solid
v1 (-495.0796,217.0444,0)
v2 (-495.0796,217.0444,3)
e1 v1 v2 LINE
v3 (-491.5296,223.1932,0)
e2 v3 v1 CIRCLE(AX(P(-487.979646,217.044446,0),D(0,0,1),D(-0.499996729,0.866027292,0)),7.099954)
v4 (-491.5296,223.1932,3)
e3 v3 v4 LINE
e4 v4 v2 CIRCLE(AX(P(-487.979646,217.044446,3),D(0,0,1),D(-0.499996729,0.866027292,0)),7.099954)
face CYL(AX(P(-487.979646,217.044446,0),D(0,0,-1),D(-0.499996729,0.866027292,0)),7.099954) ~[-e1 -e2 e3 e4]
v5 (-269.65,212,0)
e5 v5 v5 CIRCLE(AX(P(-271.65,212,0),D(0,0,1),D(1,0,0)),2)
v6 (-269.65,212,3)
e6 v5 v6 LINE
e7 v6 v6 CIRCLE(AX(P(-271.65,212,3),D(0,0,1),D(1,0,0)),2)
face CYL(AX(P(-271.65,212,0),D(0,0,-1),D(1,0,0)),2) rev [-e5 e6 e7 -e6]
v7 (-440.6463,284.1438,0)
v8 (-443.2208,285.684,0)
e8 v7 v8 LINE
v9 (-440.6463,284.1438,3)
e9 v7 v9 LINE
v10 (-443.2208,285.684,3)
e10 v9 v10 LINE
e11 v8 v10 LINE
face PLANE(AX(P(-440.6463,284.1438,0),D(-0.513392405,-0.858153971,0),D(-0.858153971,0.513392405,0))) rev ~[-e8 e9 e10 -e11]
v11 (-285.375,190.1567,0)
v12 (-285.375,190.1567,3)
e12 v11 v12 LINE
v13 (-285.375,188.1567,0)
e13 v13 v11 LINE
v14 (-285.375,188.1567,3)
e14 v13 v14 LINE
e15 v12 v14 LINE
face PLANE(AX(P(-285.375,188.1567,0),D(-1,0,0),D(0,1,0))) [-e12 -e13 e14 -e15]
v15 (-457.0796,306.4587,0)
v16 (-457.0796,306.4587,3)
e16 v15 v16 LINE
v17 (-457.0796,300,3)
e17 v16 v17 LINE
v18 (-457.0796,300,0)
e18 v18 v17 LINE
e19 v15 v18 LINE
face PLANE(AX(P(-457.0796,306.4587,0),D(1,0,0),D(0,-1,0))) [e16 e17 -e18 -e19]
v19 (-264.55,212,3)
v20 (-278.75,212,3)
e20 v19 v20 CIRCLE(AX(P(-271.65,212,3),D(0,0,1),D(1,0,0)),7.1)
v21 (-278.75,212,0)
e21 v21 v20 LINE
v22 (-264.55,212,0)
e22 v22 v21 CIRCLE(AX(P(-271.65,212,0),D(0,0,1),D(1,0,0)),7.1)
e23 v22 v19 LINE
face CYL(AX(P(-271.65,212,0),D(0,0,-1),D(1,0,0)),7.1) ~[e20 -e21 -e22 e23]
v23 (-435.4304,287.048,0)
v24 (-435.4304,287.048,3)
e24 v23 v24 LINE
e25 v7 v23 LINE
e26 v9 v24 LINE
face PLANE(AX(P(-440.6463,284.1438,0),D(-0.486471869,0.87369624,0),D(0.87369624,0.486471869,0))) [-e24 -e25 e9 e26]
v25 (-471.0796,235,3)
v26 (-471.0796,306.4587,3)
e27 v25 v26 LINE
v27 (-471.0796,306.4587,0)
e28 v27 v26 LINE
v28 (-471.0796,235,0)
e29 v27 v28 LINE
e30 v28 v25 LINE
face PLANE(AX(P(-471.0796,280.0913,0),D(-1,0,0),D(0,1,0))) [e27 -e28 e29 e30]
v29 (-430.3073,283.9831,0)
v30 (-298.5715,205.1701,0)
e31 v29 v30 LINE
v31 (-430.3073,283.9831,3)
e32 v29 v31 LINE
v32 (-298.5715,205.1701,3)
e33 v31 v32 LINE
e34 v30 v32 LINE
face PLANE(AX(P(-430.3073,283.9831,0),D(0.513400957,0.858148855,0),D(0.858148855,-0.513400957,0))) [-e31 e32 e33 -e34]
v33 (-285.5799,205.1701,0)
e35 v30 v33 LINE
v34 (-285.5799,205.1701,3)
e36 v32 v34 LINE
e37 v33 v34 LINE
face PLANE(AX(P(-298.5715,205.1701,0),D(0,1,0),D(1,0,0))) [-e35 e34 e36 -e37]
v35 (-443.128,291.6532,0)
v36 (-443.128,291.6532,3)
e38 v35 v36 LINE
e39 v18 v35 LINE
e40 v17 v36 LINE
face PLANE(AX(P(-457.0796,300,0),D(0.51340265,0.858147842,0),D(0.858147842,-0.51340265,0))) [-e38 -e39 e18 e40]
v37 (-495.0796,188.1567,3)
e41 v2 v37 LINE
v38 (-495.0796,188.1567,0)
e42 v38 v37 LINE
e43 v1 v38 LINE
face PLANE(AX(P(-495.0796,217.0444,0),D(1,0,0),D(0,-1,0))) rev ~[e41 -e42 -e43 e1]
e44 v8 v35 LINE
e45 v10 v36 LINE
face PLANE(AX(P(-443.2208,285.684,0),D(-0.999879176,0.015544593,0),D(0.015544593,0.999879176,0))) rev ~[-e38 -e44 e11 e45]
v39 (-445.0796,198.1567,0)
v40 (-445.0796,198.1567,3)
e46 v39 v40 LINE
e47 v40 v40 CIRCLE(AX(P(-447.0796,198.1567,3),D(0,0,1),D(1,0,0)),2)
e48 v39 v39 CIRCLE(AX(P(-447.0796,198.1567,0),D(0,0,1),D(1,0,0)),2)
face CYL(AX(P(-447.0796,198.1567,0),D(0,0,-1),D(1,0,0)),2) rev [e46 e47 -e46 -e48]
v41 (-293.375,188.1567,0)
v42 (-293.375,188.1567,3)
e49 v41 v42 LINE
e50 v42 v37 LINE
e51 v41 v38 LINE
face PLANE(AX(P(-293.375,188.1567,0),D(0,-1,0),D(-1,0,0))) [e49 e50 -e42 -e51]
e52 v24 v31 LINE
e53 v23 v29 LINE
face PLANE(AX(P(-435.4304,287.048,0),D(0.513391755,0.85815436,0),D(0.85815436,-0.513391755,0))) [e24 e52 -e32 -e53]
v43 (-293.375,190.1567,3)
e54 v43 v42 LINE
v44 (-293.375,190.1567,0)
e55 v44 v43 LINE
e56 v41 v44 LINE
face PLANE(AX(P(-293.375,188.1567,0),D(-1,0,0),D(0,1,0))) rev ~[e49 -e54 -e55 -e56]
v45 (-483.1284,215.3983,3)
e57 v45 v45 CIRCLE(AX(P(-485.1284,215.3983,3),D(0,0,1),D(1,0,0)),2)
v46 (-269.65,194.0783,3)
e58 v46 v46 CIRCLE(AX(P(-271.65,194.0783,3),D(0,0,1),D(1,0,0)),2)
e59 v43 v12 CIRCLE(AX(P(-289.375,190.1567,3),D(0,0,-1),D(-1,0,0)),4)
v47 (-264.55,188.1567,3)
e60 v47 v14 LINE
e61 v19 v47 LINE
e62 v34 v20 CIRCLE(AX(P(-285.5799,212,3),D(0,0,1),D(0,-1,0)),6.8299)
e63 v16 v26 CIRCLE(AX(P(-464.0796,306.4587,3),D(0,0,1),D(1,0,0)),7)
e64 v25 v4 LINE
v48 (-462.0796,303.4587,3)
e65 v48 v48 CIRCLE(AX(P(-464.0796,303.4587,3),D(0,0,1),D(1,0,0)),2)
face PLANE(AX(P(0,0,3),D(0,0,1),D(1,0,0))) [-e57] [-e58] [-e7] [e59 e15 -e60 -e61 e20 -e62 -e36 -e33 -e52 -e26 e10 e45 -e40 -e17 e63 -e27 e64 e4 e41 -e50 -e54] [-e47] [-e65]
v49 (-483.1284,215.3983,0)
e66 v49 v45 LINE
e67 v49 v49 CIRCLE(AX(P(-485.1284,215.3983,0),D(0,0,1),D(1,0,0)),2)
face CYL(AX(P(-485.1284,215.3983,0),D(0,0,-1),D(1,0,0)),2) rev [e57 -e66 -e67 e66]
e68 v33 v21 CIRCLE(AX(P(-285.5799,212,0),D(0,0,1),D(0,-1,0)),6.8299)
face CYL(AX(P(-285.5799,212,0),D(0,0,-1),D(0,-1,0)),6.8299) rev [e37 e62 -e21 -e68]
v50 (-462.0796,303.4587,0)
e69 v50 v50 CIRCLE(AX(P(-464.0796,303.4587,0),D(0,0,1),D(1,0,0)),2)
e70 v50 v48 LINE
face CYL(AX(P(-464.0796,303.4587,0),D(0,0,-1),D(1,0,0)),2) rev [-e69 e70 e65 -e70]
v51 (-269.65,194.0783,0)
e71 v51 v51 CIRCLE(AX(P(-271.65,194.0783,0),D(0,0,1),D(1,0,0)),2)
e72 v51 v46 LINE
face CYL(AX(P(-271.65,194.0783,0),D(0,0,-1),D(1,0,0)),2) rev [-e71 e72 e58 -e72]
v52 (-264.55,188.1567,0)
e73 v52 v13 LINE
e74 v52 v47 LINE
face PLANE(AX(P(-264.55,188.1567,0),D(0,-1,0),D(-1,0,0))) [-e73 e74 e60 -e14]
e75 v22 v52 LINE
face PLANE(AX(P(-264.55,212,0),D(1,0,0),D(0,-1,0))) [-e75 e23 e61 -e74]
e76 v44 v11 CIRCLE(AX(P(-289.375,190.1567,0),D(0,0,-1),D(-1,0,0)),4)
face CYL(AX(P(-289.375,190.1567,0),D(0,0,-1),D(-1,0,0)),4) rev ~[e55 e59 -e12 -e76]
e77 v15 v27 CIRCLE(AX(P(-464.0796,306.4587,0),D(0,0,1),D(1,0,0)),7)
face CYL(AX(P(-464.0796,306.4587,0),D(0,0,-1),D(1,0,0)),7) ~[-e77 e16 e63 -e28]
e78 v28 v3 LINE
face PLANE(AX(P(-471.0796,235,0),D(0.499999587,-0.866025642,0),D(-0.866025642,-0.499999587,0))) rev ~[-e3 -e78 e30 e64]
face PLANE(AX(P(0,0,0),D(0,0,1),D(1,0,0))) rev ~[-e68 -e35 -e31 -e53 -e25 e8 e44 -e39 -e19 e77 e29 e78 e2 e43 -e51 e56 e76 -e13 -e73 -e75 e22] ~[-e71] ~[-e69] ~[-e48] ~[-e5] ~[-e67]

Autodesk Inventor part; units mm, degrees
ref_plane "YZ Plane" through (0, 0, 0) normal (1, 0, 0) x (0, 1, 0)
ref_plane "XZ Plane" through (0, 0, 0) normal (0, 1, 0) x (-1, 0, 0)
ref_plane "XY Plane" through (0, 0, 0) normal (0, 0, 1) x (1, 0, 0)
sketch "Sketch3" plane through (0, 0, 0) normal (0, 0, 1) x (1, 0, 0)
  circle A0 centre (367.816, 50) radius 50 construction
  line L0 (367.816, 0) -> (512.7041, 0) construction
  line L1 (367.816, 50) -> (512.7041, 50) construction
  line L2 (367.816, 100) -> (512.7041, 100) construction
  line L3 (367.816, 50) -> (342.816, 6.6987) construction
  line L4 (367.816, 50) -> (324.5147, 25) construction
  line L5 (367.816, 50) -> (324.5147, 75) construction
  line L6 (342.816, 93.3013) -> (367.816, 50) construction
  line L7 (392.816, 93.3013) -> (367.816, 50) construction
  line L8 (411.1173, 75) -> (367.816, 50) construction
  line L9 (411.1173, 25) -> (367.816, 50) construction
  line L10 (392.816, 6.6987) -> (367.816, 50) construction
  line L11 (367.816, 0) -> (367.816, 100) construction
  line L12 (417.816, 50) -> (367.816, 50) construction
  line L13 (341.6361, 0) -> (341.6361, 100) construction
  line L14 (315.4561, 0) -> (315.4561, 100) construction
  line L15 (289.2762, 0) -> (289.2762, 100) construction
  line L16 (263.0963, 0) -> (263.0963, 100) construction
  line L17 (236.9163, 0) -> (236.9163, 100) construction
  line L18 (210.7364, 0) -> (210.7364, 100) construction
  line L19 (184.5564, 0) -> (184.5564, 100) construction
  line L20 (158.3765, 0) -> (158.3765, 100) construction
  circle A1 centre (315.4561, 50) radius 50 construction
  circle A2 centre (341.6361, 50) radius 50 construction
  circle A3 centre (289.2762, 50) radius 50 construction
  circle A4 centre (263.0963, 50) radius 50 construction
  circle A5 centre (236.9163, 50) radius 50 construction
  circle A6 centre (210.7364, 50) radius 50 construction
  line L21 (392.816, 6.6987) -> (512.7041, 6.6987) construction
  line L22 (411.1173, 25) -> (512.7041, 25) construction
  line L23 (411.1173, 75) -> (512.7041, 75) construction
  line L24 (411.1173, 75) -> (512.7041, 75) construction
  line L25 (392.816, 93.3013) -> (512.7041, 93.3013) construction
  line L26 (358.7574, 75) -> (339.2762, 50) construction
  line L27 (339.2762, 50) -> (306.3975, 25) construction
  line L28 (306.3975, 25) -> (261.9163, 6.6987) construction
  line L29 (261.9163, 6.6987) -> (210.7364, 0) construction
  line L30 (105.3682, -12.9392) -> (105.3682, 124.4333) construction
  line L31 (21.25, 0) -> (21.25, 12)
  line L32 (35.45, 12) -> (35.45, -11.8433)
  arc A7 (0, 0) -> (6.625, -9.8433) centre (10.625, 0) ccw
  arc A8 (14.625, -9.8433) -> (21.25, 0) centre (10.625, 0) ccw
  line L33 (35.45, -11.8433) -> (14.625, -11.8433)
  line L34 (6.625, -11.8433) -> (-195.0796, -11.8433)
  circle A9 centre (-144.26, 100.8473) radius 12.875 construction
  line L35 (6.625, -11.8433) -> (6.625, -9.8433)
  line L36 (14.625, -11.8433) -> (14.625, -9.8433)
  line L37 (411.1173, 75) -> (158.3765, 75) construction
  line L38 (367.816, 100) -> (158.3765, 100) construction
  line L39 (417.816, 50) -> (158.3765, 50) construction
  line L40 (411.1173, 25) -> (158.3765, 25) construction
  line L41 (392.816, 6.6987) -> (158.3765, 6.6987) construction
  line L42 (392.816, 93.3013) -> (158.3765, 93.3013) construction
  line L43 (358.7574, 75) -> (366.6361, 93.3013) construction
  line L44 (366.6361, 93.3013) -> (367.816, 100) construction
  spline S0 degree 4 poles (-157.0796, 100) (-157.0796, 88.9946) (-147.011, 72.6811) (-131.8577, 48.7932) (-88.4777, 17.6268) (-50.0176, 3.937) (-18.8717, 0) (0, 0) knots 0 0 0 0 0 0.264547 0.457223 0.66608 1 1 1 1 1
  line L45 (-157.0796, 100) -> (-157.0796, 38) construction
  line L46 (0, 0) -> (-157.0796, 0) construction
  line L47 (-144.26, 100.8473) -> (-157.135, 100.8473) construction
  circle A10 centre (-146.4546, 100) radius 10.625 construction
  line L48 (-146.4546, 100) -> (-157.0796, 100) construction
  line L49 (-141.0754, 84.4005) -> (-135.6205, 93.5183) construction
  line L50 (-141.0796, 132.0528) -> (-171.0796, 149.3733) construction
  line L51 (-171.0796, 149.3733) -> (-201.0796, 132.0528) construction
  line L52 (-141.0754, 84.4005) -> (-99.2801, 84.4005) construction
  line L53 (-201.0796, 132.0528) -> (-201.0796, 97.4118) construction
  line L54 (-201.0796, 97.4118) -> (-171.0796, 80.0913) construction
  line L55 (0, 0) -> (-157.0796, 93.9753) construction
  line L56 (-135.6205, 93.5183) -> (-137.3368, 94.5451) construction
  line L57 (-137.3368, 94.5451) -> (-143.2815, 84.6085) construction
  line L58 (-137.3368, 94.5451) -> (-171.0796, 114.7323) construction
  line L59 (-201.0796, 132.0528) -> (-171.0796, 114.7323) construction
  arc A11 (-137.3368, 94.5451) -> (-144.7045, 143.8948) centre (-171.0796, 114.7323) ccw construction
  arc A12 (-142.7917, 85.4273) -> (-147.1443, 147.6882) centre (-171.0796, 114.7323) ccw construction
  line L60 (-171.0796, 80.0913) -> (-171.0796, 35)
  circle A13 centre (-171.0796, 114.7323) radius 2.5 construction
  arc A14 (-167.4345, 120.8251) -> (-174.7248, 108.6394) centre (-171.0796, 114.7323) ccw construction
  line L61 (-167.4345, 120.8251) -> (-157.0796, 114.6302) construction
  line L62 (-171.0796, 80.0913) -> (-171.0796, 106.4587)
  line L63 (-171.0796, 106.4587) -> (-174.7248, 108.6394) construction
  line L64 (-171.0796, 35) -> (-191.5296, 23.1932)
  arc A15 (-191.5296, 23.1932) -> (-195.0796, 17.0444) centre (-187.9796, 17.0444) ccw
  line L65 (-195.0796, 17.0444) -> (-195.0796, -11.8433)
  arc A16 (35.45, 12) -> (21.25, 12) centre (28.35, 12) ccw
  line L66 (-157.0796, 114.6302) -> (-157.0796, 99.9865) construction
  circle A17 centre (-164.0796, 103.4587) radius 2
  line L67 (-171.0796, 103.4587) -> (-157.0796, 103.4587) construction
  circle A18 centre (-185.1284, 15.3983) radius 2
  line L68 (-185.1284, 15.3983) -> (-194.1284, 20.5944) construction
  circle A19 centre (-6, -5.9217) radius 2
  line L69 (-6, -11.8433) -> (-6, 0) construction
  circle A20 centre (28.35, 12) radius 2
  circle A21 centre (28.35, -5.9217) radius 2
  line L70 (-167.4345, 320.8251) -> (-157.0796, 314.6302) construction
  arc A22 (-167.4345, 320.8251) -> (-174.7248, 308.6394) centre (-171.0796, 314.7323) ccw construction
  circle A23 centre (-171.0796, 314.7323) radius 2.5 construction
  line L71 (-171.0796, 280.0913) -> (-171.0796, 306.4587)
  line L72 (-171.0796, 306.4587) -> (-174.7248, 308.6394) construction
  line L73 (-157.0796, 314.6302) -> (-157.0796, 299.9865) construction
  circle A24 centre (-164.0796, 303.4587) radius 2
  spline S1 degree 4 poles (-157.0796, 300) (-157.0796, 288.9946) (-147.0234, 272.6841) (-124.1789, 236.7977) (-70.8039, 208.0704) (-31.8865, 200.2943) (0, 200) knots 0 0 0 0 0 0.264547 0.457223 1 1 1 1 1 construction
  line L74 (-157.0796, 300) -> (-157.0796, 238) construction
  arc A25 (0, 200) -> (6.625, 190.1567) centre (10.625, 200) ccw
  line L75 (35.45, 212) -> (35.45, 188.1567)
  circle A26 centre (28.35, 212) radius 2
  circle A27 centre (28.35, 194.0783) radius 2
  arc A28 (35.45, 212) -> (21.25, 212) centre (28.35, 212) ccw
  line L76 (21.25, 200) -> (21.25, 212)
  line L77 (35.45, 188.1567) -> (14.625, 188.1567)
  arc A29 (14.625, 190.1567) -> (21.25, 200) centre (10.625, 200) ccw
  line L78 (14.625, 188.1567) -> (14.625, 190.1567)
  line L79 (-185.1284, 215.3983) -> (-194.1284, 220.5944) construction
  arc A30 (-191.5296, 223.1932) -> (-195.0796, 217.0444) centre (-187.9796, 217.0444) ccw
  line L80 (-195.0796, 217.0444) -> (-195.0796, 188.1567)
  line L81 (-171.0796, 235) -> (-191.5296, 223.1932)
  circle A31 centre (-185.1284, 215.3983) radius 2
  line L82 (-171.0796, 280.0913) -> (-171.0796, 235)
  line L83 (6.625, 188.1567) -> (-195.0796, 188.1567)
  line L84 (6.625, 188.1567) -> (6.625, 190.1567)
  line L85 (-137.3368, 294.5451) -> (-143.2815, 284.6085) construction
  line L86 (-141.0754, 284.4005) -> (-135.6205, 293.5183) construction
  line L87 (0, 200) -> (-157.0796, 293.9753)
  line L88 (-167.4345, 520.8251) -> (-157.0796, 514.6302) construction
  arc A32 (-167.4345, 520.8251) -> (-174.7248, 508.6394) centre (-171.0796, 514.7323) ccw construction
  circle A33 centre (-171.0796, 514.7323) radius 2.5 construction
  line L89 (-171.0796, 480.0913) -> (-171.0796, 506.4587)
  line L90 (-171.0796, 506.4587) -> (-174.7248, 508.6394) construction
  line L91 (-157.0796, 514.6302) -> (-157.0796, 499.9865) construction
  circle A34 centre (-164.0796, 503.4587) radius 2
  spline S2 degree 4 poles (-157.0796, 500) (-157.0796, 488.9946) (-147.0234, 472.6841) (-124.1789, 436.7977) (-70.8039, 408.0704) (-31.8865, 400.2943) (0, 400) knots 0 0 0 0 0 0.264547 0.457223 1 1 1 1 1 construction
  line L92 (-157.0796, 500) -> (-157.0796, 438)
  arc A35 (0, 400) -> (6.625, 390.1567) centre (10.625, 400) ccw
  line L93 (35.45, 412) -> (35.45, 388.1567)
  circle A36 centre (28.35, 412) radius 2
  circle A37 centre (28.35, 394.0783) radius 2
  arc A38 (35.45, 412) -> (21.25, 412) centre (28.35, 412) ccw
  line L94 (21.25, 400) -> (21.25, 412)
  line L95 (35.45, 388.1567) -> (14.625, 388.1567)
  arc A39 (14.625, 390.1567) -> (21.25, 400) centre (10.625, 400) ccw
  line L96 (14.625, 388.1567) -> (14.625, 390.1567)
  line L97 (-185.1284, 415.3983) -> (-194.1284, 420.5944) construction
  arc A40 (-191.5296, 423.1932) -> (-195.0796, 417.0444) centre (-187.9796, 417.0444) ccw
  line L98 (-195.0796, 417.0444) -> (-195.0796, 388.1567)
  line L99 (-171.0796, 435) -> (-191.5296, 423.1932)
  circle A41 centre (-185.1284, 415.3983) radius 2
  line L100 (-171.0796, 480.0913) -> (-171.0796, 435)
  line L101 (6.625, 388.1567) -> (-195.0796, 388.1567)
  line L102 (6.625, 388.1567) -> (6.625, 390.1567)
  line L103 (-137.3368, 494.5451) -> (-143.2815, 484.6085) construction
  line L104 (-141.0754, 484.4005) -> (-135.6205, 493.5183) construction
  line L105 (0, 400) -> (-157.0796, 493.9753) construction
  line L106 (-467.4345, 120.8251) -> (-457.0796, 114.6302) construction
  arc A42 (-467.4345, 120.8251) -> (-474.7248, 108.6394) centre (-471.0796, 114.7323) ccw construction
  circle A43 centre (-471.0796, 114.7323) radius 2.5 construction
  line L107 (-471.0796, 80.0913) -> (-471.0796, 106.4587)
  line L108 (-471.0796, 106.4587) -> (-474.7248, 108.6394) construction
  line L109 (-457.0796, 114.6302) -> (-457.0796, 99.9865) construction
  circle A44 centre (-464.0796, 103.4587) radius 2
  spline S3 degree 4 poles (-457.0796, 100) (-457.0796, 88.9946) (-447.0234, 72.6841) (-424.1789, 36.7977) (-370.8039, 8.0704) (-331.8865, 0.2943) (-300, 0) knots 0 0 0 0 0 0.264547 0.457223 1 1 1 1 1 construction
  line L110 (-457.0796, 100) -> (-457.0796, 38) construction
  arc A45 (-300, 0) -> (-293.375, -9.8433) centre (-289.375, 0) ccw construction
  line L111 (-264.55, 12) -> (-264.55, -11.8433)
  circle A46 centre (-271.65, 12) radius 2
  circle A47 centre (-271.65, -5.9217) radius 2
  arc A48 (-264.55, 12) -> (-278.75, 12) centre (-271.65, 12) ccw
  line L112 (-278.75, 0) -> (-278.75, 12) construction
  line L113 (-264.55, -11.8433) -> (-285.375, -11.8433)
  arc A49 (-285.375, -9.8433) -> (-278.75, 0) centre (-289.375, 0) ccw construction
  line L114 (-285.375, -11.8433) -> (-285.375, -9.8433) construction
  line L115 (-485.1284, 15.3983) -> (-494.1284, 20.5944) construction
  arc A50 (-491.5296, 23.1932) -> (-495.0796, 17.0444) centre (-487.9796, 17.0444) ccw
  line L116 (-495.0796, 17.0444) -> (-495.0796, -11.8433)
  line L117 (-471.0796, 35) -> (-491.5296, 23.1932)
  circle A51 centre (-485.1284, 15.3983) radius 2
  line L118 (-471.0796, 80.0913) -> (-471.0796, 35)
  line L119 (-293.375, -11.8433) -> (-495.0796, -11.8433)
  line L120 (-293.375, -11.8433) -> (-293.375, -9.8433) construction
  line L121 (-437.3368, 94.5451) -> (-443.2815, 84.6085) construction
  line L122 (-441.0754, 84.4005) -> (-435.6205, 93.5183) construction
  line L123 (-300, 0) -> (-457.0796, 93.9753) construction
  line L124 (-467.4345, 320.8251) -> (-457.0796, 314.6302) construction
  arc A52 (-467.4345, 320.8251) -> (-474.7248, 308.6394) centre (-471.0796, 314.7323) ccw construction
  circle A53 centre (-471.0796, 314.7323) radius 2.5 construction
  line L125 (-471.0796, 280.0913) -> (-471.0796, 306.4587)
  line L126 (-471.0796, 306.4587) -> (-474.7248, 308.6394) construction
  line L127 (-457.0796, 314.6302) -> (-457.0796, 299.9865) construction
  circle A54 centre (-464.0796, 303.4587) radius 2
  spline S4 degree 4 poles (-457.0796, 300) (-457.0796, 288.9946) (-447.0234, 272.6841) (-424.1789, 236.7977) (-370.8039, 208.0704) (-331.8865, 200.2943) (-300, 200) knots 0 0 0 0 0 0.264547 0.457223 1 1 1 1 1 construction
  line L128 (-457.0796, 300) -> (-457.0796, 238) construction
  arc A55 (-300, 200) -> (-293.375, 190.1567) centre (-289.375, 200) ccw construction
  line L129 (-264.55, 212) -> (-264.55, 188.1567)
  circle A56 centre (-271.65, 212) radius 2
  circle A57 centre (-271.65, 194.0783) radius 2
  arc A58 (-264.55, 212) -> (-278.75, 212) centre (-271.65, 212) ccw
  line L130 (-278.75, 200) -> (-278.75, 212) construction
  line L131 (-264.55, 188.1567) -> (-285.375, 188.1567)
  arc A59 (-285.375, 190.1567) -> (-278.75, 200) centre (-289.375, 200) ccw construction
  line L132 (-285.375, 188.1567) -> (-285.375, 190.1567) construction
  line L133 (-485.1284, 215.3983) -> (-494.1284, 220.5944) construction
  arc A60 (-491.5296, 223.1932) -> (-495.0796, 217.0444) centre (-487.9796, 217.0444) ccw
  line L134 (-495.0796, 217.0444) -> (-495.0796, 188.1567)
  line L135 (-471.0796, 235) -> (-491.5296, 223.1932)
  circle A61 centre (-485.1284, 215.3983) radius 2
  line L136 (-471.0796, 280.0913) -> (-471.0796, 235)
  line L137 (-293.375, 188.1567) -> (-495.0796, 188.1567)
  line L138 (-293.375, 188.1567) -> (-293.375, 190.1567) construction
  line L139 (-437.3368, 294.5451) -> (-443.2815, 284.6085) construction
  line L140 (-441.0754, 284.4005) -> (-435.6205, 293.5183) construction
  line L141 (-300, 200) -> (-457.0796, 293.9753) construction
  line L142 (-467.4345, 520.8251) -> (-457.0796, 514.6302)
  arc A62 (-467.4345, 520.8251) -> (-474.7248, 508.6394) centre (-471.0796, 514.7323) ccw
  circle A63 centre (-471.0796, 514.7323) radius 2.5
  line L143 (-471.0796, 480.0913) -> (-471.0796, 506.4587)
  line L144 (-471.0796, 506.4587) -> (-474.7248, 508.6394)
  line L145 (-457.0796, 514.6302) -> (-457.0796, 499.9865)
  circle A64 centre (-464.0796, 503.4587) radius 2
  spline S5 degree 4 poles (-457.0796, 500) (-457.0796, 488.9946) (-447.0234, 472.6841) (-424.1789, 436.7977) (-370.8039, 408.0704) (-331.8865, 400.2943) (-300, 400) knots 0 0 0 0 0 0.264547 0.457223 1 1 1 1 1 construction
  line L146 (-457.0796, 500) -> (-457.0796, 438) construction
  arc A65 (-300, 400) -> (-293.375, 390.1567) centre (-289.375, 400) ccw construction
  line L147 (-264.55, 412) -> (-264.55, 388.1567) construction
  circle A66 centre (-271.65, 412) radius 2
  circle A67 centre (-271.65, 394.0783) radius 2
  arc A68 (-264.55, 412) -> (-278.75, 412) centre (-271.65, 412) ccw
  line L148 (-278.75, 400) -> (-278.75, 412) construction
  line L149 (-264.55, 388.1567) -> (-285.375, 388.1567)
  arc A69 (-285.375, 390.1567) -> (-278.75, 400) centre (-289.375, 400) ccw construction
  line L150 (-285.375, 388.1567) -> (-285.375, 390.1567) construction
  line L151 (-485.1284, 415.3983) -> (-494.1284, 420.5944) construction
  arc A70 (-491.5296, 423.1932) -> (-495.0796, 417.0444) centre (-487.9796, 417.0444) ccw
  line L152 (-495.0796, 417.0444) -> (-495.0796, 388.1567) construction
  line L153 (-471.0796, 435) -> (-491.5296, 423.1932)
  circle A71 centre (-485.1284, 415.3983) radius 2
  line L154 (-471.0796, 480.0913) -> (-471.0796, 435)
  line L155 (-293.375, 388.1567) -> (-495.0796, 388.1567)
  line L156 (-293.375, 388.1567) -> (-293.375, 390.1567) construction
  line L157 (-437.3368, 494.5451) -> (-443.2815, 484.6085) construction
  line L158 (-441.0754, 484.4005) -> (-435.6205, 493.5183) construction
  line L159 (-300, 400) -> (-457.0796, 493.9753) construction
  line L160 (-435.4304, 87.048) -> (-430.3073, 83.9831)
  line L161 (-430.3073, 83.9831) -> (-430.3073, 78.0131)
  line L162 (-457.0796, 100) -> (-443.128, 91.6532)
  line L163 (-443.2208, 85.684) -> (-443.128, 91.6532)
  line L164 (-440.6463, 84.1438) -> (-435.4304, 87.048)
  line L165 (-440.6463, 84.1438) -> (-443.2208, 85.684)
  line L166 (-430.3073, 78.0131) -> (-436.0283, 74.7101)
  line L167 (-436.0283, 74.7101) -> (-436.0283, 68.1041)
  spline S6 degree 4 poles (-439.3753, 72.7777) (-420.1522, 45.3403) (-398.6357, 22.4496) (-337.1208, 4.2654) (-300, 5.1701) knots 0 0 0 0 0 1 1 1 1 1
  line L168 (-293.375, -11.8433) -> (-285.375, -11.8433)
  line L169 (-157.0796, 293.9753) -> (-157.0796, 300)
  line L170 (-293.375, 188.1567) -> (-285.375, 188.1567)
  arc A72 (-157.0796, 438) -> (-119.0796, 400) centre (-119.0796, 438) ccw
  line L171 (-119.0796, 400) -> (0, 400)
  line L172 (-457.0796, 500) -> (-457.0796, 438) construction
  line L173 (-419.0796, 400) -> (-300, 400) construction
  arc A73 (-457.0796, 438) -> (-419.0796, 400) centre (-419.0796, 438) ccw construction
  line L174 (-457.0796, 300) -> (-443.128, 291.6532)
  line L175 (-443.2208, 285.684) -> (-443.128, 291.6532)
  line L176 (-440.6463, 284.1438) -> (-443.2208, 285.684)
  line L177 (-440.6463, 284.1438) -> (-435.4304, 287.048)
  line L178 (-435.4304, 287.048) -> (-430.3073, 283.9831)
  line L179 (-430.3073, 283.9831) -> (-430.3073, 278.0131) construction
  line L180 (-430.3073, 278.0131) -> (-436.0283, 274.7101) construction
  line L181 (-457.0796, 500) -> (-443.128, 491.6532)
  line L182 (-443.2208, 485.684) -> (-443.128, 491.6532)
  line L183 (-440.6463, 484.1438) -> (-443.2208, 485.684)
  line L184 (-440.6463, 484.1438) -> (-435.4304, 487.048)
  line L185 (-435.4304, 487.048) -> (-430.3073, 483.9831)
  line L186 (-430.3073, 483.9831) -> (-430.3073, 478.0131)
  line L187 (-430.3073, 478.0131) -> (-436.0283, 474.7101)
  line L188 (-430.3073, 283.9831) -> (-298.5715, 205.1701)
  line L189 (-293.375, 388.1567) -> (-285.375, 388.1567)
  line L190 (-300, 5.1701) -> (-285.5799, 5.1701)
  arc A74 (-285.5799, 5.1701) -> (-278.75, 12) centre (-285.5799, 12) ccw
  line L191 (-298.5715, 205.1701) -> (-285.5799, 205.1701)
  arc A75 (-285.5799, 205.1701) -> (-278.75, 212) centre (-285.5799, 212) ccw
  line L192 (-436.0283, 474.7101) -> (-451.9095, 465.5411)
  line L193 (-451.9095, 465.5411) -> (-451.9095, 438)
  arc A76 (-451.9095, 438) -> (-419.0796, 405.1701) centre (-419.0796, 438) ccw
  line L194 (-419.0796, 405.1701) -> (-285.5799, 405.1701)
  arc A77 (-285.5799, 405.1701) -> (-278.75, 412) centre (-285.5799, 412) ccw
  line L195 (-495.0796, 388.1567) -> (-514.2796, 388.1567)
  line L196 (-514.2796, 388.1567) -> (-514.2796, 392.1567)
  line L197 (-514.2796, 392.1567) -> (-498.0796, 392.1567)
  arc A78 (-498.0796, 392.1567) -> (-495.0796, 395.1567) centre (-498.0796, 395.1567) ccw
  line L198 (-495.0796, 395.1567) -> (-495.0796, 417.0444)
  line L199 (-499.0796, 388.1567) -> (-510.2796, 388.1567) construction
  line L200 (-510.2796, 388.1567) -> (-510.2796, 392.1567) construction
  line L201 (-510.2796, 392.1567) -> (-499.0796, 392.1567) construction
  line L202 (-499.0796, 392.1567) -> (-499.0796, 388.1567) construction
  line L203 (-499.0796, 388.1567) -> (-510.2796, 392.1567) construction
  line L204 (-510.2796, 388.1567) -> (-499.0796, 392.1567) construction
  arc A79 (-600, 200) -> (-593.375, 190.1567) centre (-589.375, 200) ccw construction
  line L205 (-564.55, 212) -> (-564.55, 188.1567) construction
  circle A80 centre (-571.65, 212) radius 2
  circle A81 centre (-571.65, 194.0783) radius 2
  arc A82 (-564.55, 212) -> (-578.75, 212) centre (-571.65, 212) ccw
  line L206 (-578.75, 200) -> (-578.75, 212) construction
  line L207 (-564.55, 188.1567) -> (-585.375, 188.1567)
  arc A83 (-585.375, 190.1567) -> (-578.75, 200) centre (-589.375, 200) ccw construction
  line L208 (-585.375, 188.1567) -> (-585.375, 190.1567) construction
  line L209 (-593.375, 188.1567) -> (-593.375, 190.1567) construction
  arc A84 (-585.5799, 205.1701) -> (-578.75, 212) centre (-585.5799, 212) ccw
  line L210 (-593.375, 188.1567) -> (-585.375, 188.1567)
  line L211 (-598.5715, 205.1701) -> (-585.5799, 205.1701)
  arc A85 (-791.5296, 223.1932) -> (-795.0796, 217.0444) centre (-787.9796, 217.0444) ccw
  line L212 (-785.1284, 215.3983) -> (-794.1284, 220.5944) construction
  circle A86 centre (-785.1284, 215.3983) radius 2
  line L213 (-771.0796, 235) -> (-791.5296, 223.1932)
  line L214 (-795.0796, 217.0444) -> (-795.0796, 188.1567) construction
  line L215 (-730.3073, 278.0131) -> (-736.0283, 274.7101) construction
  line L216 (-757.0796, 300) -> (-757.0796, 238) construction
  line L217 (-730.3073, 283.9831) -> (-730.3073, 278.0131) construction
  line L218 (-730.3073, 283.9831) -> (-598.5715, 205.1701)
  line L219 (-600, 200) -> (-757.0796, 293.9753) construction
  spline S7 degree 4 poles (-757.0796, 300) (-757.0796, 288.9946) (-747.0234, 272.6841) (-724.1789, 236.7977) (-670.8039, 208.0704) (-631.8865, 200.2943) (-600, 200) knots 0 0 0 0 0 0.264547 0.457223 1 1 1 1 1 construction
  line L220 (-593.375, 188.1567) -> (-795.0796, 188.1567)
  line L221 (-771.0796, 280.0913) -> (-771.0796, 235)
  line L222 (-757.0796, 300) -> (-743.128, 291.6532)
  line L223 (-743.2208, 285.684) -> (-743.128, 291.6532)
  line L224 (-740.6463, 284.1438) -> (-743.2208, 285.684)
  line L225 (-737.3368, 294.5451) -> (-743.2815, 284.6085) construction
  line L226 (-741.0754, 284.4005) -> (-735.6205, 293.5183) construction
  line L227 (-740.6463, 284.1438) -> (-735.4304, 287.048)
  line L228 (-735.4304, 287.048) -> (-730.3073, 283.9831)
  line L229 (-767.4345, 320.8251) -> (-757.0796, 314.6302)
  line L230 (-771.0796, 280.0913) -> (-771.0796, 306.4587)
  line L231 (-757.0796, 314.6302) -> (-757.0796, 299.9865)
  circle A87 centre (-764.0796, 303.4587) radius 2
  line L232 (-771.0796, 306.4587) -> (-774.7248, 308.6394)
  circle A88 centre (-771.0796, 314.7323) radius 2.5
  arc A89 (-767.4345, 320.8251) -> (-774.7248, 308.6394) centre (-771.0796, 314.7323) ccw
  line L233 (-795.0796, 188.1567) -> (-814.2796, 188.1567)
  line L234 (-814.2796, 188.1567) -> (-814.2796, 192.1567)
  line L235 (-814.2796, 192.1567) -> (-798.0796, 192.1567)
  arc A90 (-798.0796, 192.1567) -> (-795.0796, 195.1567) centre (-798.0796, 195.1567) ccw
  line L236 (-795.0796, 195.1567) -> (-795.0796, 217.0444)
  line L237 (-799.0796, 188.1567) -> (-810.2796, 188.1567) construction
  line L238 (-810.2796, 188.1567) -> (-810.2796, 192.1567) construction
  line L239 (-810.2796, 192.1567) -> (-799.0796, 192.1567) construction
  line L240 (-799.0796, 192.1567) -> (-799.0796, 188.1567) construction
  line L241 (-799.0796, 188.1567) -> (-810.2796, 192.1567) construction
  line L242 (-810.2796, 188.1567) -> (-799.0796, 192.1567) construction
  line L243 (-495.0796, 587.6927) -> (-264.55, 587.6927) construction
  line L244 (-379.8148, 587.6927) -> (-379.8148, 614.3146) construction
  line L245 (-795.0796, 438) -> (-564.55, 438) construction
  line L246 (-679.8148, 438) -> (-679.8148, 492.8294) construction
  arc A91 (-564.55, 195.1567) -> (-561.55, 192.1567) centre (-561.55, 195.1567) ccw
  line L247 (-545.35, 192.1567) -> (-561.55, 192.1567)
  line L248 (-545.35, 188.1567) -> (-545.35, 192.1567)
  line L249 (-560.55, 192.1567) -> (-560.55, 188.1567) construction
  line L250 (-560.55, 188.1567) -> (-549.35, 188.1567) construction
  line L251 (-564.55, 188.1567) -> (-545.35, 188.1567)
  line L252 (-549.35, 188.1567) -> (-549.35, 192.1567) construction
  line L253 (-549.35, 192.1567) -> (-560.55, 192.1567) construction
  line L254 (-560.55, 188.1567) -> (-549.35, 192.1567) construction
  line L255 (-549.35, 188.1567) -> (-560.55, 192.1567) construction
  line L256 (-564.55, 195.1567) -> (-564.55, 212)
  circle A92 centre (-147.0796, 398.1567) radius 2
  circle A93 centre (-147.0796, 198.1567) radius 2
  circle A94 centre (-147.0796, -1.8433) radius 2
  circle A95 centre (-447.0796, 398.1567) radius 2
  circle A96 centre (-447.0796, 198.1567) radius 2
  circle A97 centre (-447.0796, -1.8433) radius 2
  circle A98 centre (-747.0796, 398.1567) radius 2 construction
  circle A99 centre (-747.0796, 198.1567) radius 2
  circle A100 centre (-747.0796, -1.8433) radius 2 construction
  line L257 (-264.55, 388.1567) -> (-245.35, 388.1567)
  line L258 (-245.35, 388.1567) -> (-245.35, 392.1567)
  line L259 (-245.35, 392.1567) -> (-261.55, 392.1567)
  arc A101 (-264.55, 395.1567) -> (-261.55, 392.1567) centre (-261.55, 395.1567) ccw
  line L260 (-260.55, 388.1567) -> (-249.35, 388.1567) construction
  line L261 (-249.35, 388.1567) -> (-249.35, 392.1567) construction
  line L262 (-249.35, 392.1567) -> (-260.55, 392.1567) construction
  line L263 (-260.55, 392.1567) -> (-260.55, 388.1567) construction
  line L264 (-260.55, 388.1567) -> (-249.35, 392.1567) construction
  line L265 (-249.35, 388.1567) -> (-260.55, 392.1567) construction
  line L266 (-264.55, 412) -> (-264.55, 395.1567)
  arc A102 (-157.0796, 106.4587) -> (-171.0796, 106.4587) centre (-164.0796, 106.4587) ccw
  line L267 (-157.0796, 106.4587) -> (-157.0796, 100)
  arc A103 (-157.0796, 306.4587) -> (-171.0796, 306.4587) centre (-164.0796, 306.4587) ccw
  line L268 (-157.0796, 306.4587) -> (-157.0796, 300)
  arc A104 (-157.0796, 506.4587) -> (-171.0796, 506.4587) centre (-164.0796, 506.4587) ccw
  line L269 (-157.0796, 506.4587) -> (-157.0796, 500)
  arc A105 (-457.0796, 106.4587) -> (-471.0796, 106.4587) centre (-464.0796, 106.4587) ccw
  line L270 (-457.0796, 106.4587) -> (-457.0796, 100)
  arc A106 (-457.0796, 306.4587) -> (-471.0796, 306.4587) centre (-464.0796, 306.4587) ccw
  line L271 (-457.0796, 306.4587) -> (-457.0796, 300)
  arc A107 (-457.0796, 506.4587) -> (-471.0796, 506.4587) centre (-464.0796, 506.4587) ccw construction
  line L272 (-457.0796, 506.4587) -> (-457.0796, 500) construction
  point P0 (158.3765, 0)
  point P1 (-148.021, 75)
  point P2 (-128.5398, 50)
  point P3 (-95.6611, 25)
  point P4 (-51.1799, 6.6987)
  point P5 (-155.8997, 93.3013)
  point P6 (-148.021, 275)
  point P7 (-128.5398, 250)
  point P8 (-95.6611, 225)
  point P9 (-51.1799, 206.6987)
  point P10 (-157.0796, 303.4587)
  point P11 (-157.0796, 200)
  point P12 (-171.0796, 303.4587)
  point P13 (-6, 188.1567)
  point P14 (-142.7917, 285.4273)
  point P15 (-148.021, 475)
  point P16 (-128.5398, 450)
  point P17 (-95.6611, 425)
  point P18 (-51.1799, 406.6987)
  point P19 (-157.0796, 503.4587)
  point P20 (-157.0796, 400)
  point P21 (-171.0796, 503.4587)
  point P22 (-6, 388.1567)
  point P23 (-142.7917, 485.4273)
  point P24 (-448.021, 75)
  point P25 (-428.5398, 50)
  point P26 (-395.6611, 25)
  point P27 (-351.1799, 6.6987)
  point P28 (-457.0796, 103.4587)
  point P29 (-457.0796, 0)
  point P30 (-471.0796, 103.4587)
  point P31 (-306, -11.8433)
  point P32 (-442.7917, 85.4273)
  point P33 (-448.021, 275)
  point P34 (-428.5398, 250)
  point P35 (-395.6611, 225)
  point P36 (-351.1799, 206.6987)
  point P37 (-457.0796, 303.4587)
  point P38 (-457.0796, 200)
  point P39 (-471.0796, 303.4587)
  point P40 (-306, 188.1567)
  point P41 (-442.7917, 285.4273)
  point P42 (-448.021, 475)
  point P43 (-428.5398, 450)
  point P44 (-395.6611, 425)
  point P45 (-351.1799, 406.6987)
  point P46 (-457.0796, 503.4587)
  point P47 (-457.0796, 400)
  point P48 (-471.0796, 503.4587)
  point P49 (-306, 388.1567)
  point P50 (-442.7917, 485.4273)
  point P51 (-421.2258, 50.7726)
  point P52 (-392.6255, 29.6644)
  point P53 (-346.6709, 11.6004)
  point P54 (-436.0267, 68.102)
  point P55 (-457.0796, 503.4587)
  point P56 (-504.6796, 390.1567)
  point P57 (-606, 188.1567)
  point P58 (-757.0796, 200)
  point P59 (-748.021, 275)
  point P60 (-728.5398, 250)
  point P61 (-757.0796, 303.4587)
  point P62 (-695.6611, 225)
  point P63 (-651.1799, 206.6987)
  point P64 (-742.7917, 285.4273)
  point P65 (-771.0796, 303.4587)
  point P66 (-804.6796, 190.1567)
  point P67 (-564.55, 188.1567)
  point P68 (-554.95, 190.1567)
  point P69 (-254.95, 390.1567)
  point P70 (-278.75, 12)
  dimension "d43" = 25.75
  dimension "diameter" = 100
  dimension "d8" = 26.1799
  dimension "d14" = 30
  dimension "d15" = 30
  dimension "d16" = 30
  dimension "d32" = 10.625
  dimension "d47" = 8
  dimension "d49" = 2
  dimension "d53" = 21.25
  dimension "d62" = 20.825
  dimension "d123" = 120
  dimension "d126" = 59.109
  dimension "d137" = 2
  dimension "d138" = 90
  dimension "d139" = 90
  dimension "d141" = 7.1
  dimension "d142" = 14
  dimension "d143" = 7.1
  dimension "d144" = 12
  dimension "d145" = 5
  dimension "d146" = 35
  dimension "d147" = 24
  dimension "hole" = 4
  dimension "d155" = 4
  dimension "d156" = 9
  dimension "d157" = 4
  dimension "d158" = 6
  dimension "d159" = 4
  dimension "d160" = 4
  dimension "d241" = 120.891
  dimension "d244" = 120
  dimension "d245" = 30
  dimension "d246" = 3
  dimension "d249" = 200
  dimension "d252" = 300
  dimension "d255" = 120
  dimension "d256" = 5.1701
  dimension "d259" = 0.5
  dimension "d260" = 0.5
  dimension "d261" = 120
  dimension "d262" = 120
  dimension "d264" = 5.1701
  dimension "d265" = 38
  dimension "d268" = 300
  dimension "d275" = 200
  dimension "d288" = 5.1701
  dimension "d289" = 5.1701
  dimension "d290" = 5.1701
  dimension "d291" = 5.1701
  dimension "d292" = 11.2
  dimension "d293" = 4
  dimension "d294" = 4
  dimension "d296" = 3
  dimension "d299" = 300
  dimension "d324" = 11.2
  dimension "d325" = 4
  dimension "d326" = 4
  dimension "d328" = 3
  dimension "d330" = 4
  dimension "d331" = 10
  dimension "d332" = 10
  dimension "d335" = 200
  dimension "d338" = 300
  dimension "d341" = 7.1
  dimension "d342" = 4.6
sketch "Sketch5" plane through (0, 0, 0) normal (0, 0, 1) x (1, 0, 0)
  circle A0 centre (-171.0796, 114.7323) radius 2
  arc A1 (-168.5126, 119.023) -> (-173.6466, 110.4415) centre (-171.0796, 114.7323) ccw construction
  line L0 (-173.6466, 110.4415) -> (-168.5126, 119.023) construction
  line L1 (-137.3368, 94.5451) -> (-171.0796, 114.7323) construction
  line L2 (-137.3368, 94.5451) -> (-143.2815, 84.6085) construction
  line L3 (-141.0754, 84.4005) -> (-135.6205, 93.5183) construction
  line L4 (-142.7917, 85.4273) -> (-141.0754, 84.4005) construction
  line L5 (-173.6466, 110.4415) -> (-138.1875, 89.2276) construction
  line L6 (-138.1875, 89.2276) -> (-133.0535, 97.8091)
  line L7 (-133.0535, 97.8091) -> (-168.5126, 119.023) construction
  line L8 (-159.6382, 113.7138) -> (-159.6382, 107.8873)
  line L9 (-159.6382, 107.8873) -> (-145.3456, 99.3365)
  line L10 (-133.0535, 97.8091) -> (-140.2116, 102.0915)
  line L11 (-152.4919, 103.6119) -> (-153.6918, 101.6062)
  line L12 (-140.2116, 102.0915) -> (-145.3456, 99.3365)
  line L13 (-159.6382, 113.7138) -> (-168.5126, 119.023)
  line L14 (-135.6205, 93.5183) -> (-169.3633, 113.7055) construction
  line L15 (-168.5126, 119.023) -> (-189.9664, 131.858)
  arc A2 (-189.9664, 131.858) -> (-195.1004, 123.2766) centre (-192.5334, 127.5673) ccw
  line L16 (-195.1004, 123.2766) -> (-173.6466, 110.4415)
  line L17 (-142.7917, 85.4273) -> (-141.0754, 84.4005)
  line L18 (-141.0754, 84.4005) -> (-138.1875, 89.2276)
  line L19 (-142.7917, 85.4273) -> (-142.6907, 91.9217)
  line L20 (-142.6907, 91.9217) -> (-173.6466, 110.4415)
  arc A3 (-141.0754, 84.4005) -> (-138.014, 141.6941) centre (-171.0796, 114.7323) ccw construction
  point P0 (0, 0)
  dimension "d346" = 4
  dimension "d347" = 3
  dimension "d356" = 25
  dimension "d357" = 120
extrude "Extrusion7" add sketch "Sketch3" along normal blind 3 contours L125 A106 L271 L174 L175 L176 L177 L178 L188 L191 A75 A58 L129 L131 L170 L137 L134 A60 L135 L136
sketch "Sketch6" plane through (0, 0, 0) normal (0, 0, -1) x (-1, 0, 0)
  line L0 (285.375, 188.1567) -> (285.375, 190.1567) projected
  line L1 (293.375, 188.1567) -> (293.375, 190.1567) projected
  arc A0 (293.375, 190.1567) -> (285.375, 190.1567) centre (289.375, 190.1567) ccw
  line L2 (285.375, 188.1567) -> (293.375, 188.1567)
  line L3 (495.0796, 188.1567) -> (264.55, 188.1567) projected
  point P0 (0, 0)
extrude "Extrusion8" cut sketch "Sketch6" against normal through all
properties part number "5linerail"
